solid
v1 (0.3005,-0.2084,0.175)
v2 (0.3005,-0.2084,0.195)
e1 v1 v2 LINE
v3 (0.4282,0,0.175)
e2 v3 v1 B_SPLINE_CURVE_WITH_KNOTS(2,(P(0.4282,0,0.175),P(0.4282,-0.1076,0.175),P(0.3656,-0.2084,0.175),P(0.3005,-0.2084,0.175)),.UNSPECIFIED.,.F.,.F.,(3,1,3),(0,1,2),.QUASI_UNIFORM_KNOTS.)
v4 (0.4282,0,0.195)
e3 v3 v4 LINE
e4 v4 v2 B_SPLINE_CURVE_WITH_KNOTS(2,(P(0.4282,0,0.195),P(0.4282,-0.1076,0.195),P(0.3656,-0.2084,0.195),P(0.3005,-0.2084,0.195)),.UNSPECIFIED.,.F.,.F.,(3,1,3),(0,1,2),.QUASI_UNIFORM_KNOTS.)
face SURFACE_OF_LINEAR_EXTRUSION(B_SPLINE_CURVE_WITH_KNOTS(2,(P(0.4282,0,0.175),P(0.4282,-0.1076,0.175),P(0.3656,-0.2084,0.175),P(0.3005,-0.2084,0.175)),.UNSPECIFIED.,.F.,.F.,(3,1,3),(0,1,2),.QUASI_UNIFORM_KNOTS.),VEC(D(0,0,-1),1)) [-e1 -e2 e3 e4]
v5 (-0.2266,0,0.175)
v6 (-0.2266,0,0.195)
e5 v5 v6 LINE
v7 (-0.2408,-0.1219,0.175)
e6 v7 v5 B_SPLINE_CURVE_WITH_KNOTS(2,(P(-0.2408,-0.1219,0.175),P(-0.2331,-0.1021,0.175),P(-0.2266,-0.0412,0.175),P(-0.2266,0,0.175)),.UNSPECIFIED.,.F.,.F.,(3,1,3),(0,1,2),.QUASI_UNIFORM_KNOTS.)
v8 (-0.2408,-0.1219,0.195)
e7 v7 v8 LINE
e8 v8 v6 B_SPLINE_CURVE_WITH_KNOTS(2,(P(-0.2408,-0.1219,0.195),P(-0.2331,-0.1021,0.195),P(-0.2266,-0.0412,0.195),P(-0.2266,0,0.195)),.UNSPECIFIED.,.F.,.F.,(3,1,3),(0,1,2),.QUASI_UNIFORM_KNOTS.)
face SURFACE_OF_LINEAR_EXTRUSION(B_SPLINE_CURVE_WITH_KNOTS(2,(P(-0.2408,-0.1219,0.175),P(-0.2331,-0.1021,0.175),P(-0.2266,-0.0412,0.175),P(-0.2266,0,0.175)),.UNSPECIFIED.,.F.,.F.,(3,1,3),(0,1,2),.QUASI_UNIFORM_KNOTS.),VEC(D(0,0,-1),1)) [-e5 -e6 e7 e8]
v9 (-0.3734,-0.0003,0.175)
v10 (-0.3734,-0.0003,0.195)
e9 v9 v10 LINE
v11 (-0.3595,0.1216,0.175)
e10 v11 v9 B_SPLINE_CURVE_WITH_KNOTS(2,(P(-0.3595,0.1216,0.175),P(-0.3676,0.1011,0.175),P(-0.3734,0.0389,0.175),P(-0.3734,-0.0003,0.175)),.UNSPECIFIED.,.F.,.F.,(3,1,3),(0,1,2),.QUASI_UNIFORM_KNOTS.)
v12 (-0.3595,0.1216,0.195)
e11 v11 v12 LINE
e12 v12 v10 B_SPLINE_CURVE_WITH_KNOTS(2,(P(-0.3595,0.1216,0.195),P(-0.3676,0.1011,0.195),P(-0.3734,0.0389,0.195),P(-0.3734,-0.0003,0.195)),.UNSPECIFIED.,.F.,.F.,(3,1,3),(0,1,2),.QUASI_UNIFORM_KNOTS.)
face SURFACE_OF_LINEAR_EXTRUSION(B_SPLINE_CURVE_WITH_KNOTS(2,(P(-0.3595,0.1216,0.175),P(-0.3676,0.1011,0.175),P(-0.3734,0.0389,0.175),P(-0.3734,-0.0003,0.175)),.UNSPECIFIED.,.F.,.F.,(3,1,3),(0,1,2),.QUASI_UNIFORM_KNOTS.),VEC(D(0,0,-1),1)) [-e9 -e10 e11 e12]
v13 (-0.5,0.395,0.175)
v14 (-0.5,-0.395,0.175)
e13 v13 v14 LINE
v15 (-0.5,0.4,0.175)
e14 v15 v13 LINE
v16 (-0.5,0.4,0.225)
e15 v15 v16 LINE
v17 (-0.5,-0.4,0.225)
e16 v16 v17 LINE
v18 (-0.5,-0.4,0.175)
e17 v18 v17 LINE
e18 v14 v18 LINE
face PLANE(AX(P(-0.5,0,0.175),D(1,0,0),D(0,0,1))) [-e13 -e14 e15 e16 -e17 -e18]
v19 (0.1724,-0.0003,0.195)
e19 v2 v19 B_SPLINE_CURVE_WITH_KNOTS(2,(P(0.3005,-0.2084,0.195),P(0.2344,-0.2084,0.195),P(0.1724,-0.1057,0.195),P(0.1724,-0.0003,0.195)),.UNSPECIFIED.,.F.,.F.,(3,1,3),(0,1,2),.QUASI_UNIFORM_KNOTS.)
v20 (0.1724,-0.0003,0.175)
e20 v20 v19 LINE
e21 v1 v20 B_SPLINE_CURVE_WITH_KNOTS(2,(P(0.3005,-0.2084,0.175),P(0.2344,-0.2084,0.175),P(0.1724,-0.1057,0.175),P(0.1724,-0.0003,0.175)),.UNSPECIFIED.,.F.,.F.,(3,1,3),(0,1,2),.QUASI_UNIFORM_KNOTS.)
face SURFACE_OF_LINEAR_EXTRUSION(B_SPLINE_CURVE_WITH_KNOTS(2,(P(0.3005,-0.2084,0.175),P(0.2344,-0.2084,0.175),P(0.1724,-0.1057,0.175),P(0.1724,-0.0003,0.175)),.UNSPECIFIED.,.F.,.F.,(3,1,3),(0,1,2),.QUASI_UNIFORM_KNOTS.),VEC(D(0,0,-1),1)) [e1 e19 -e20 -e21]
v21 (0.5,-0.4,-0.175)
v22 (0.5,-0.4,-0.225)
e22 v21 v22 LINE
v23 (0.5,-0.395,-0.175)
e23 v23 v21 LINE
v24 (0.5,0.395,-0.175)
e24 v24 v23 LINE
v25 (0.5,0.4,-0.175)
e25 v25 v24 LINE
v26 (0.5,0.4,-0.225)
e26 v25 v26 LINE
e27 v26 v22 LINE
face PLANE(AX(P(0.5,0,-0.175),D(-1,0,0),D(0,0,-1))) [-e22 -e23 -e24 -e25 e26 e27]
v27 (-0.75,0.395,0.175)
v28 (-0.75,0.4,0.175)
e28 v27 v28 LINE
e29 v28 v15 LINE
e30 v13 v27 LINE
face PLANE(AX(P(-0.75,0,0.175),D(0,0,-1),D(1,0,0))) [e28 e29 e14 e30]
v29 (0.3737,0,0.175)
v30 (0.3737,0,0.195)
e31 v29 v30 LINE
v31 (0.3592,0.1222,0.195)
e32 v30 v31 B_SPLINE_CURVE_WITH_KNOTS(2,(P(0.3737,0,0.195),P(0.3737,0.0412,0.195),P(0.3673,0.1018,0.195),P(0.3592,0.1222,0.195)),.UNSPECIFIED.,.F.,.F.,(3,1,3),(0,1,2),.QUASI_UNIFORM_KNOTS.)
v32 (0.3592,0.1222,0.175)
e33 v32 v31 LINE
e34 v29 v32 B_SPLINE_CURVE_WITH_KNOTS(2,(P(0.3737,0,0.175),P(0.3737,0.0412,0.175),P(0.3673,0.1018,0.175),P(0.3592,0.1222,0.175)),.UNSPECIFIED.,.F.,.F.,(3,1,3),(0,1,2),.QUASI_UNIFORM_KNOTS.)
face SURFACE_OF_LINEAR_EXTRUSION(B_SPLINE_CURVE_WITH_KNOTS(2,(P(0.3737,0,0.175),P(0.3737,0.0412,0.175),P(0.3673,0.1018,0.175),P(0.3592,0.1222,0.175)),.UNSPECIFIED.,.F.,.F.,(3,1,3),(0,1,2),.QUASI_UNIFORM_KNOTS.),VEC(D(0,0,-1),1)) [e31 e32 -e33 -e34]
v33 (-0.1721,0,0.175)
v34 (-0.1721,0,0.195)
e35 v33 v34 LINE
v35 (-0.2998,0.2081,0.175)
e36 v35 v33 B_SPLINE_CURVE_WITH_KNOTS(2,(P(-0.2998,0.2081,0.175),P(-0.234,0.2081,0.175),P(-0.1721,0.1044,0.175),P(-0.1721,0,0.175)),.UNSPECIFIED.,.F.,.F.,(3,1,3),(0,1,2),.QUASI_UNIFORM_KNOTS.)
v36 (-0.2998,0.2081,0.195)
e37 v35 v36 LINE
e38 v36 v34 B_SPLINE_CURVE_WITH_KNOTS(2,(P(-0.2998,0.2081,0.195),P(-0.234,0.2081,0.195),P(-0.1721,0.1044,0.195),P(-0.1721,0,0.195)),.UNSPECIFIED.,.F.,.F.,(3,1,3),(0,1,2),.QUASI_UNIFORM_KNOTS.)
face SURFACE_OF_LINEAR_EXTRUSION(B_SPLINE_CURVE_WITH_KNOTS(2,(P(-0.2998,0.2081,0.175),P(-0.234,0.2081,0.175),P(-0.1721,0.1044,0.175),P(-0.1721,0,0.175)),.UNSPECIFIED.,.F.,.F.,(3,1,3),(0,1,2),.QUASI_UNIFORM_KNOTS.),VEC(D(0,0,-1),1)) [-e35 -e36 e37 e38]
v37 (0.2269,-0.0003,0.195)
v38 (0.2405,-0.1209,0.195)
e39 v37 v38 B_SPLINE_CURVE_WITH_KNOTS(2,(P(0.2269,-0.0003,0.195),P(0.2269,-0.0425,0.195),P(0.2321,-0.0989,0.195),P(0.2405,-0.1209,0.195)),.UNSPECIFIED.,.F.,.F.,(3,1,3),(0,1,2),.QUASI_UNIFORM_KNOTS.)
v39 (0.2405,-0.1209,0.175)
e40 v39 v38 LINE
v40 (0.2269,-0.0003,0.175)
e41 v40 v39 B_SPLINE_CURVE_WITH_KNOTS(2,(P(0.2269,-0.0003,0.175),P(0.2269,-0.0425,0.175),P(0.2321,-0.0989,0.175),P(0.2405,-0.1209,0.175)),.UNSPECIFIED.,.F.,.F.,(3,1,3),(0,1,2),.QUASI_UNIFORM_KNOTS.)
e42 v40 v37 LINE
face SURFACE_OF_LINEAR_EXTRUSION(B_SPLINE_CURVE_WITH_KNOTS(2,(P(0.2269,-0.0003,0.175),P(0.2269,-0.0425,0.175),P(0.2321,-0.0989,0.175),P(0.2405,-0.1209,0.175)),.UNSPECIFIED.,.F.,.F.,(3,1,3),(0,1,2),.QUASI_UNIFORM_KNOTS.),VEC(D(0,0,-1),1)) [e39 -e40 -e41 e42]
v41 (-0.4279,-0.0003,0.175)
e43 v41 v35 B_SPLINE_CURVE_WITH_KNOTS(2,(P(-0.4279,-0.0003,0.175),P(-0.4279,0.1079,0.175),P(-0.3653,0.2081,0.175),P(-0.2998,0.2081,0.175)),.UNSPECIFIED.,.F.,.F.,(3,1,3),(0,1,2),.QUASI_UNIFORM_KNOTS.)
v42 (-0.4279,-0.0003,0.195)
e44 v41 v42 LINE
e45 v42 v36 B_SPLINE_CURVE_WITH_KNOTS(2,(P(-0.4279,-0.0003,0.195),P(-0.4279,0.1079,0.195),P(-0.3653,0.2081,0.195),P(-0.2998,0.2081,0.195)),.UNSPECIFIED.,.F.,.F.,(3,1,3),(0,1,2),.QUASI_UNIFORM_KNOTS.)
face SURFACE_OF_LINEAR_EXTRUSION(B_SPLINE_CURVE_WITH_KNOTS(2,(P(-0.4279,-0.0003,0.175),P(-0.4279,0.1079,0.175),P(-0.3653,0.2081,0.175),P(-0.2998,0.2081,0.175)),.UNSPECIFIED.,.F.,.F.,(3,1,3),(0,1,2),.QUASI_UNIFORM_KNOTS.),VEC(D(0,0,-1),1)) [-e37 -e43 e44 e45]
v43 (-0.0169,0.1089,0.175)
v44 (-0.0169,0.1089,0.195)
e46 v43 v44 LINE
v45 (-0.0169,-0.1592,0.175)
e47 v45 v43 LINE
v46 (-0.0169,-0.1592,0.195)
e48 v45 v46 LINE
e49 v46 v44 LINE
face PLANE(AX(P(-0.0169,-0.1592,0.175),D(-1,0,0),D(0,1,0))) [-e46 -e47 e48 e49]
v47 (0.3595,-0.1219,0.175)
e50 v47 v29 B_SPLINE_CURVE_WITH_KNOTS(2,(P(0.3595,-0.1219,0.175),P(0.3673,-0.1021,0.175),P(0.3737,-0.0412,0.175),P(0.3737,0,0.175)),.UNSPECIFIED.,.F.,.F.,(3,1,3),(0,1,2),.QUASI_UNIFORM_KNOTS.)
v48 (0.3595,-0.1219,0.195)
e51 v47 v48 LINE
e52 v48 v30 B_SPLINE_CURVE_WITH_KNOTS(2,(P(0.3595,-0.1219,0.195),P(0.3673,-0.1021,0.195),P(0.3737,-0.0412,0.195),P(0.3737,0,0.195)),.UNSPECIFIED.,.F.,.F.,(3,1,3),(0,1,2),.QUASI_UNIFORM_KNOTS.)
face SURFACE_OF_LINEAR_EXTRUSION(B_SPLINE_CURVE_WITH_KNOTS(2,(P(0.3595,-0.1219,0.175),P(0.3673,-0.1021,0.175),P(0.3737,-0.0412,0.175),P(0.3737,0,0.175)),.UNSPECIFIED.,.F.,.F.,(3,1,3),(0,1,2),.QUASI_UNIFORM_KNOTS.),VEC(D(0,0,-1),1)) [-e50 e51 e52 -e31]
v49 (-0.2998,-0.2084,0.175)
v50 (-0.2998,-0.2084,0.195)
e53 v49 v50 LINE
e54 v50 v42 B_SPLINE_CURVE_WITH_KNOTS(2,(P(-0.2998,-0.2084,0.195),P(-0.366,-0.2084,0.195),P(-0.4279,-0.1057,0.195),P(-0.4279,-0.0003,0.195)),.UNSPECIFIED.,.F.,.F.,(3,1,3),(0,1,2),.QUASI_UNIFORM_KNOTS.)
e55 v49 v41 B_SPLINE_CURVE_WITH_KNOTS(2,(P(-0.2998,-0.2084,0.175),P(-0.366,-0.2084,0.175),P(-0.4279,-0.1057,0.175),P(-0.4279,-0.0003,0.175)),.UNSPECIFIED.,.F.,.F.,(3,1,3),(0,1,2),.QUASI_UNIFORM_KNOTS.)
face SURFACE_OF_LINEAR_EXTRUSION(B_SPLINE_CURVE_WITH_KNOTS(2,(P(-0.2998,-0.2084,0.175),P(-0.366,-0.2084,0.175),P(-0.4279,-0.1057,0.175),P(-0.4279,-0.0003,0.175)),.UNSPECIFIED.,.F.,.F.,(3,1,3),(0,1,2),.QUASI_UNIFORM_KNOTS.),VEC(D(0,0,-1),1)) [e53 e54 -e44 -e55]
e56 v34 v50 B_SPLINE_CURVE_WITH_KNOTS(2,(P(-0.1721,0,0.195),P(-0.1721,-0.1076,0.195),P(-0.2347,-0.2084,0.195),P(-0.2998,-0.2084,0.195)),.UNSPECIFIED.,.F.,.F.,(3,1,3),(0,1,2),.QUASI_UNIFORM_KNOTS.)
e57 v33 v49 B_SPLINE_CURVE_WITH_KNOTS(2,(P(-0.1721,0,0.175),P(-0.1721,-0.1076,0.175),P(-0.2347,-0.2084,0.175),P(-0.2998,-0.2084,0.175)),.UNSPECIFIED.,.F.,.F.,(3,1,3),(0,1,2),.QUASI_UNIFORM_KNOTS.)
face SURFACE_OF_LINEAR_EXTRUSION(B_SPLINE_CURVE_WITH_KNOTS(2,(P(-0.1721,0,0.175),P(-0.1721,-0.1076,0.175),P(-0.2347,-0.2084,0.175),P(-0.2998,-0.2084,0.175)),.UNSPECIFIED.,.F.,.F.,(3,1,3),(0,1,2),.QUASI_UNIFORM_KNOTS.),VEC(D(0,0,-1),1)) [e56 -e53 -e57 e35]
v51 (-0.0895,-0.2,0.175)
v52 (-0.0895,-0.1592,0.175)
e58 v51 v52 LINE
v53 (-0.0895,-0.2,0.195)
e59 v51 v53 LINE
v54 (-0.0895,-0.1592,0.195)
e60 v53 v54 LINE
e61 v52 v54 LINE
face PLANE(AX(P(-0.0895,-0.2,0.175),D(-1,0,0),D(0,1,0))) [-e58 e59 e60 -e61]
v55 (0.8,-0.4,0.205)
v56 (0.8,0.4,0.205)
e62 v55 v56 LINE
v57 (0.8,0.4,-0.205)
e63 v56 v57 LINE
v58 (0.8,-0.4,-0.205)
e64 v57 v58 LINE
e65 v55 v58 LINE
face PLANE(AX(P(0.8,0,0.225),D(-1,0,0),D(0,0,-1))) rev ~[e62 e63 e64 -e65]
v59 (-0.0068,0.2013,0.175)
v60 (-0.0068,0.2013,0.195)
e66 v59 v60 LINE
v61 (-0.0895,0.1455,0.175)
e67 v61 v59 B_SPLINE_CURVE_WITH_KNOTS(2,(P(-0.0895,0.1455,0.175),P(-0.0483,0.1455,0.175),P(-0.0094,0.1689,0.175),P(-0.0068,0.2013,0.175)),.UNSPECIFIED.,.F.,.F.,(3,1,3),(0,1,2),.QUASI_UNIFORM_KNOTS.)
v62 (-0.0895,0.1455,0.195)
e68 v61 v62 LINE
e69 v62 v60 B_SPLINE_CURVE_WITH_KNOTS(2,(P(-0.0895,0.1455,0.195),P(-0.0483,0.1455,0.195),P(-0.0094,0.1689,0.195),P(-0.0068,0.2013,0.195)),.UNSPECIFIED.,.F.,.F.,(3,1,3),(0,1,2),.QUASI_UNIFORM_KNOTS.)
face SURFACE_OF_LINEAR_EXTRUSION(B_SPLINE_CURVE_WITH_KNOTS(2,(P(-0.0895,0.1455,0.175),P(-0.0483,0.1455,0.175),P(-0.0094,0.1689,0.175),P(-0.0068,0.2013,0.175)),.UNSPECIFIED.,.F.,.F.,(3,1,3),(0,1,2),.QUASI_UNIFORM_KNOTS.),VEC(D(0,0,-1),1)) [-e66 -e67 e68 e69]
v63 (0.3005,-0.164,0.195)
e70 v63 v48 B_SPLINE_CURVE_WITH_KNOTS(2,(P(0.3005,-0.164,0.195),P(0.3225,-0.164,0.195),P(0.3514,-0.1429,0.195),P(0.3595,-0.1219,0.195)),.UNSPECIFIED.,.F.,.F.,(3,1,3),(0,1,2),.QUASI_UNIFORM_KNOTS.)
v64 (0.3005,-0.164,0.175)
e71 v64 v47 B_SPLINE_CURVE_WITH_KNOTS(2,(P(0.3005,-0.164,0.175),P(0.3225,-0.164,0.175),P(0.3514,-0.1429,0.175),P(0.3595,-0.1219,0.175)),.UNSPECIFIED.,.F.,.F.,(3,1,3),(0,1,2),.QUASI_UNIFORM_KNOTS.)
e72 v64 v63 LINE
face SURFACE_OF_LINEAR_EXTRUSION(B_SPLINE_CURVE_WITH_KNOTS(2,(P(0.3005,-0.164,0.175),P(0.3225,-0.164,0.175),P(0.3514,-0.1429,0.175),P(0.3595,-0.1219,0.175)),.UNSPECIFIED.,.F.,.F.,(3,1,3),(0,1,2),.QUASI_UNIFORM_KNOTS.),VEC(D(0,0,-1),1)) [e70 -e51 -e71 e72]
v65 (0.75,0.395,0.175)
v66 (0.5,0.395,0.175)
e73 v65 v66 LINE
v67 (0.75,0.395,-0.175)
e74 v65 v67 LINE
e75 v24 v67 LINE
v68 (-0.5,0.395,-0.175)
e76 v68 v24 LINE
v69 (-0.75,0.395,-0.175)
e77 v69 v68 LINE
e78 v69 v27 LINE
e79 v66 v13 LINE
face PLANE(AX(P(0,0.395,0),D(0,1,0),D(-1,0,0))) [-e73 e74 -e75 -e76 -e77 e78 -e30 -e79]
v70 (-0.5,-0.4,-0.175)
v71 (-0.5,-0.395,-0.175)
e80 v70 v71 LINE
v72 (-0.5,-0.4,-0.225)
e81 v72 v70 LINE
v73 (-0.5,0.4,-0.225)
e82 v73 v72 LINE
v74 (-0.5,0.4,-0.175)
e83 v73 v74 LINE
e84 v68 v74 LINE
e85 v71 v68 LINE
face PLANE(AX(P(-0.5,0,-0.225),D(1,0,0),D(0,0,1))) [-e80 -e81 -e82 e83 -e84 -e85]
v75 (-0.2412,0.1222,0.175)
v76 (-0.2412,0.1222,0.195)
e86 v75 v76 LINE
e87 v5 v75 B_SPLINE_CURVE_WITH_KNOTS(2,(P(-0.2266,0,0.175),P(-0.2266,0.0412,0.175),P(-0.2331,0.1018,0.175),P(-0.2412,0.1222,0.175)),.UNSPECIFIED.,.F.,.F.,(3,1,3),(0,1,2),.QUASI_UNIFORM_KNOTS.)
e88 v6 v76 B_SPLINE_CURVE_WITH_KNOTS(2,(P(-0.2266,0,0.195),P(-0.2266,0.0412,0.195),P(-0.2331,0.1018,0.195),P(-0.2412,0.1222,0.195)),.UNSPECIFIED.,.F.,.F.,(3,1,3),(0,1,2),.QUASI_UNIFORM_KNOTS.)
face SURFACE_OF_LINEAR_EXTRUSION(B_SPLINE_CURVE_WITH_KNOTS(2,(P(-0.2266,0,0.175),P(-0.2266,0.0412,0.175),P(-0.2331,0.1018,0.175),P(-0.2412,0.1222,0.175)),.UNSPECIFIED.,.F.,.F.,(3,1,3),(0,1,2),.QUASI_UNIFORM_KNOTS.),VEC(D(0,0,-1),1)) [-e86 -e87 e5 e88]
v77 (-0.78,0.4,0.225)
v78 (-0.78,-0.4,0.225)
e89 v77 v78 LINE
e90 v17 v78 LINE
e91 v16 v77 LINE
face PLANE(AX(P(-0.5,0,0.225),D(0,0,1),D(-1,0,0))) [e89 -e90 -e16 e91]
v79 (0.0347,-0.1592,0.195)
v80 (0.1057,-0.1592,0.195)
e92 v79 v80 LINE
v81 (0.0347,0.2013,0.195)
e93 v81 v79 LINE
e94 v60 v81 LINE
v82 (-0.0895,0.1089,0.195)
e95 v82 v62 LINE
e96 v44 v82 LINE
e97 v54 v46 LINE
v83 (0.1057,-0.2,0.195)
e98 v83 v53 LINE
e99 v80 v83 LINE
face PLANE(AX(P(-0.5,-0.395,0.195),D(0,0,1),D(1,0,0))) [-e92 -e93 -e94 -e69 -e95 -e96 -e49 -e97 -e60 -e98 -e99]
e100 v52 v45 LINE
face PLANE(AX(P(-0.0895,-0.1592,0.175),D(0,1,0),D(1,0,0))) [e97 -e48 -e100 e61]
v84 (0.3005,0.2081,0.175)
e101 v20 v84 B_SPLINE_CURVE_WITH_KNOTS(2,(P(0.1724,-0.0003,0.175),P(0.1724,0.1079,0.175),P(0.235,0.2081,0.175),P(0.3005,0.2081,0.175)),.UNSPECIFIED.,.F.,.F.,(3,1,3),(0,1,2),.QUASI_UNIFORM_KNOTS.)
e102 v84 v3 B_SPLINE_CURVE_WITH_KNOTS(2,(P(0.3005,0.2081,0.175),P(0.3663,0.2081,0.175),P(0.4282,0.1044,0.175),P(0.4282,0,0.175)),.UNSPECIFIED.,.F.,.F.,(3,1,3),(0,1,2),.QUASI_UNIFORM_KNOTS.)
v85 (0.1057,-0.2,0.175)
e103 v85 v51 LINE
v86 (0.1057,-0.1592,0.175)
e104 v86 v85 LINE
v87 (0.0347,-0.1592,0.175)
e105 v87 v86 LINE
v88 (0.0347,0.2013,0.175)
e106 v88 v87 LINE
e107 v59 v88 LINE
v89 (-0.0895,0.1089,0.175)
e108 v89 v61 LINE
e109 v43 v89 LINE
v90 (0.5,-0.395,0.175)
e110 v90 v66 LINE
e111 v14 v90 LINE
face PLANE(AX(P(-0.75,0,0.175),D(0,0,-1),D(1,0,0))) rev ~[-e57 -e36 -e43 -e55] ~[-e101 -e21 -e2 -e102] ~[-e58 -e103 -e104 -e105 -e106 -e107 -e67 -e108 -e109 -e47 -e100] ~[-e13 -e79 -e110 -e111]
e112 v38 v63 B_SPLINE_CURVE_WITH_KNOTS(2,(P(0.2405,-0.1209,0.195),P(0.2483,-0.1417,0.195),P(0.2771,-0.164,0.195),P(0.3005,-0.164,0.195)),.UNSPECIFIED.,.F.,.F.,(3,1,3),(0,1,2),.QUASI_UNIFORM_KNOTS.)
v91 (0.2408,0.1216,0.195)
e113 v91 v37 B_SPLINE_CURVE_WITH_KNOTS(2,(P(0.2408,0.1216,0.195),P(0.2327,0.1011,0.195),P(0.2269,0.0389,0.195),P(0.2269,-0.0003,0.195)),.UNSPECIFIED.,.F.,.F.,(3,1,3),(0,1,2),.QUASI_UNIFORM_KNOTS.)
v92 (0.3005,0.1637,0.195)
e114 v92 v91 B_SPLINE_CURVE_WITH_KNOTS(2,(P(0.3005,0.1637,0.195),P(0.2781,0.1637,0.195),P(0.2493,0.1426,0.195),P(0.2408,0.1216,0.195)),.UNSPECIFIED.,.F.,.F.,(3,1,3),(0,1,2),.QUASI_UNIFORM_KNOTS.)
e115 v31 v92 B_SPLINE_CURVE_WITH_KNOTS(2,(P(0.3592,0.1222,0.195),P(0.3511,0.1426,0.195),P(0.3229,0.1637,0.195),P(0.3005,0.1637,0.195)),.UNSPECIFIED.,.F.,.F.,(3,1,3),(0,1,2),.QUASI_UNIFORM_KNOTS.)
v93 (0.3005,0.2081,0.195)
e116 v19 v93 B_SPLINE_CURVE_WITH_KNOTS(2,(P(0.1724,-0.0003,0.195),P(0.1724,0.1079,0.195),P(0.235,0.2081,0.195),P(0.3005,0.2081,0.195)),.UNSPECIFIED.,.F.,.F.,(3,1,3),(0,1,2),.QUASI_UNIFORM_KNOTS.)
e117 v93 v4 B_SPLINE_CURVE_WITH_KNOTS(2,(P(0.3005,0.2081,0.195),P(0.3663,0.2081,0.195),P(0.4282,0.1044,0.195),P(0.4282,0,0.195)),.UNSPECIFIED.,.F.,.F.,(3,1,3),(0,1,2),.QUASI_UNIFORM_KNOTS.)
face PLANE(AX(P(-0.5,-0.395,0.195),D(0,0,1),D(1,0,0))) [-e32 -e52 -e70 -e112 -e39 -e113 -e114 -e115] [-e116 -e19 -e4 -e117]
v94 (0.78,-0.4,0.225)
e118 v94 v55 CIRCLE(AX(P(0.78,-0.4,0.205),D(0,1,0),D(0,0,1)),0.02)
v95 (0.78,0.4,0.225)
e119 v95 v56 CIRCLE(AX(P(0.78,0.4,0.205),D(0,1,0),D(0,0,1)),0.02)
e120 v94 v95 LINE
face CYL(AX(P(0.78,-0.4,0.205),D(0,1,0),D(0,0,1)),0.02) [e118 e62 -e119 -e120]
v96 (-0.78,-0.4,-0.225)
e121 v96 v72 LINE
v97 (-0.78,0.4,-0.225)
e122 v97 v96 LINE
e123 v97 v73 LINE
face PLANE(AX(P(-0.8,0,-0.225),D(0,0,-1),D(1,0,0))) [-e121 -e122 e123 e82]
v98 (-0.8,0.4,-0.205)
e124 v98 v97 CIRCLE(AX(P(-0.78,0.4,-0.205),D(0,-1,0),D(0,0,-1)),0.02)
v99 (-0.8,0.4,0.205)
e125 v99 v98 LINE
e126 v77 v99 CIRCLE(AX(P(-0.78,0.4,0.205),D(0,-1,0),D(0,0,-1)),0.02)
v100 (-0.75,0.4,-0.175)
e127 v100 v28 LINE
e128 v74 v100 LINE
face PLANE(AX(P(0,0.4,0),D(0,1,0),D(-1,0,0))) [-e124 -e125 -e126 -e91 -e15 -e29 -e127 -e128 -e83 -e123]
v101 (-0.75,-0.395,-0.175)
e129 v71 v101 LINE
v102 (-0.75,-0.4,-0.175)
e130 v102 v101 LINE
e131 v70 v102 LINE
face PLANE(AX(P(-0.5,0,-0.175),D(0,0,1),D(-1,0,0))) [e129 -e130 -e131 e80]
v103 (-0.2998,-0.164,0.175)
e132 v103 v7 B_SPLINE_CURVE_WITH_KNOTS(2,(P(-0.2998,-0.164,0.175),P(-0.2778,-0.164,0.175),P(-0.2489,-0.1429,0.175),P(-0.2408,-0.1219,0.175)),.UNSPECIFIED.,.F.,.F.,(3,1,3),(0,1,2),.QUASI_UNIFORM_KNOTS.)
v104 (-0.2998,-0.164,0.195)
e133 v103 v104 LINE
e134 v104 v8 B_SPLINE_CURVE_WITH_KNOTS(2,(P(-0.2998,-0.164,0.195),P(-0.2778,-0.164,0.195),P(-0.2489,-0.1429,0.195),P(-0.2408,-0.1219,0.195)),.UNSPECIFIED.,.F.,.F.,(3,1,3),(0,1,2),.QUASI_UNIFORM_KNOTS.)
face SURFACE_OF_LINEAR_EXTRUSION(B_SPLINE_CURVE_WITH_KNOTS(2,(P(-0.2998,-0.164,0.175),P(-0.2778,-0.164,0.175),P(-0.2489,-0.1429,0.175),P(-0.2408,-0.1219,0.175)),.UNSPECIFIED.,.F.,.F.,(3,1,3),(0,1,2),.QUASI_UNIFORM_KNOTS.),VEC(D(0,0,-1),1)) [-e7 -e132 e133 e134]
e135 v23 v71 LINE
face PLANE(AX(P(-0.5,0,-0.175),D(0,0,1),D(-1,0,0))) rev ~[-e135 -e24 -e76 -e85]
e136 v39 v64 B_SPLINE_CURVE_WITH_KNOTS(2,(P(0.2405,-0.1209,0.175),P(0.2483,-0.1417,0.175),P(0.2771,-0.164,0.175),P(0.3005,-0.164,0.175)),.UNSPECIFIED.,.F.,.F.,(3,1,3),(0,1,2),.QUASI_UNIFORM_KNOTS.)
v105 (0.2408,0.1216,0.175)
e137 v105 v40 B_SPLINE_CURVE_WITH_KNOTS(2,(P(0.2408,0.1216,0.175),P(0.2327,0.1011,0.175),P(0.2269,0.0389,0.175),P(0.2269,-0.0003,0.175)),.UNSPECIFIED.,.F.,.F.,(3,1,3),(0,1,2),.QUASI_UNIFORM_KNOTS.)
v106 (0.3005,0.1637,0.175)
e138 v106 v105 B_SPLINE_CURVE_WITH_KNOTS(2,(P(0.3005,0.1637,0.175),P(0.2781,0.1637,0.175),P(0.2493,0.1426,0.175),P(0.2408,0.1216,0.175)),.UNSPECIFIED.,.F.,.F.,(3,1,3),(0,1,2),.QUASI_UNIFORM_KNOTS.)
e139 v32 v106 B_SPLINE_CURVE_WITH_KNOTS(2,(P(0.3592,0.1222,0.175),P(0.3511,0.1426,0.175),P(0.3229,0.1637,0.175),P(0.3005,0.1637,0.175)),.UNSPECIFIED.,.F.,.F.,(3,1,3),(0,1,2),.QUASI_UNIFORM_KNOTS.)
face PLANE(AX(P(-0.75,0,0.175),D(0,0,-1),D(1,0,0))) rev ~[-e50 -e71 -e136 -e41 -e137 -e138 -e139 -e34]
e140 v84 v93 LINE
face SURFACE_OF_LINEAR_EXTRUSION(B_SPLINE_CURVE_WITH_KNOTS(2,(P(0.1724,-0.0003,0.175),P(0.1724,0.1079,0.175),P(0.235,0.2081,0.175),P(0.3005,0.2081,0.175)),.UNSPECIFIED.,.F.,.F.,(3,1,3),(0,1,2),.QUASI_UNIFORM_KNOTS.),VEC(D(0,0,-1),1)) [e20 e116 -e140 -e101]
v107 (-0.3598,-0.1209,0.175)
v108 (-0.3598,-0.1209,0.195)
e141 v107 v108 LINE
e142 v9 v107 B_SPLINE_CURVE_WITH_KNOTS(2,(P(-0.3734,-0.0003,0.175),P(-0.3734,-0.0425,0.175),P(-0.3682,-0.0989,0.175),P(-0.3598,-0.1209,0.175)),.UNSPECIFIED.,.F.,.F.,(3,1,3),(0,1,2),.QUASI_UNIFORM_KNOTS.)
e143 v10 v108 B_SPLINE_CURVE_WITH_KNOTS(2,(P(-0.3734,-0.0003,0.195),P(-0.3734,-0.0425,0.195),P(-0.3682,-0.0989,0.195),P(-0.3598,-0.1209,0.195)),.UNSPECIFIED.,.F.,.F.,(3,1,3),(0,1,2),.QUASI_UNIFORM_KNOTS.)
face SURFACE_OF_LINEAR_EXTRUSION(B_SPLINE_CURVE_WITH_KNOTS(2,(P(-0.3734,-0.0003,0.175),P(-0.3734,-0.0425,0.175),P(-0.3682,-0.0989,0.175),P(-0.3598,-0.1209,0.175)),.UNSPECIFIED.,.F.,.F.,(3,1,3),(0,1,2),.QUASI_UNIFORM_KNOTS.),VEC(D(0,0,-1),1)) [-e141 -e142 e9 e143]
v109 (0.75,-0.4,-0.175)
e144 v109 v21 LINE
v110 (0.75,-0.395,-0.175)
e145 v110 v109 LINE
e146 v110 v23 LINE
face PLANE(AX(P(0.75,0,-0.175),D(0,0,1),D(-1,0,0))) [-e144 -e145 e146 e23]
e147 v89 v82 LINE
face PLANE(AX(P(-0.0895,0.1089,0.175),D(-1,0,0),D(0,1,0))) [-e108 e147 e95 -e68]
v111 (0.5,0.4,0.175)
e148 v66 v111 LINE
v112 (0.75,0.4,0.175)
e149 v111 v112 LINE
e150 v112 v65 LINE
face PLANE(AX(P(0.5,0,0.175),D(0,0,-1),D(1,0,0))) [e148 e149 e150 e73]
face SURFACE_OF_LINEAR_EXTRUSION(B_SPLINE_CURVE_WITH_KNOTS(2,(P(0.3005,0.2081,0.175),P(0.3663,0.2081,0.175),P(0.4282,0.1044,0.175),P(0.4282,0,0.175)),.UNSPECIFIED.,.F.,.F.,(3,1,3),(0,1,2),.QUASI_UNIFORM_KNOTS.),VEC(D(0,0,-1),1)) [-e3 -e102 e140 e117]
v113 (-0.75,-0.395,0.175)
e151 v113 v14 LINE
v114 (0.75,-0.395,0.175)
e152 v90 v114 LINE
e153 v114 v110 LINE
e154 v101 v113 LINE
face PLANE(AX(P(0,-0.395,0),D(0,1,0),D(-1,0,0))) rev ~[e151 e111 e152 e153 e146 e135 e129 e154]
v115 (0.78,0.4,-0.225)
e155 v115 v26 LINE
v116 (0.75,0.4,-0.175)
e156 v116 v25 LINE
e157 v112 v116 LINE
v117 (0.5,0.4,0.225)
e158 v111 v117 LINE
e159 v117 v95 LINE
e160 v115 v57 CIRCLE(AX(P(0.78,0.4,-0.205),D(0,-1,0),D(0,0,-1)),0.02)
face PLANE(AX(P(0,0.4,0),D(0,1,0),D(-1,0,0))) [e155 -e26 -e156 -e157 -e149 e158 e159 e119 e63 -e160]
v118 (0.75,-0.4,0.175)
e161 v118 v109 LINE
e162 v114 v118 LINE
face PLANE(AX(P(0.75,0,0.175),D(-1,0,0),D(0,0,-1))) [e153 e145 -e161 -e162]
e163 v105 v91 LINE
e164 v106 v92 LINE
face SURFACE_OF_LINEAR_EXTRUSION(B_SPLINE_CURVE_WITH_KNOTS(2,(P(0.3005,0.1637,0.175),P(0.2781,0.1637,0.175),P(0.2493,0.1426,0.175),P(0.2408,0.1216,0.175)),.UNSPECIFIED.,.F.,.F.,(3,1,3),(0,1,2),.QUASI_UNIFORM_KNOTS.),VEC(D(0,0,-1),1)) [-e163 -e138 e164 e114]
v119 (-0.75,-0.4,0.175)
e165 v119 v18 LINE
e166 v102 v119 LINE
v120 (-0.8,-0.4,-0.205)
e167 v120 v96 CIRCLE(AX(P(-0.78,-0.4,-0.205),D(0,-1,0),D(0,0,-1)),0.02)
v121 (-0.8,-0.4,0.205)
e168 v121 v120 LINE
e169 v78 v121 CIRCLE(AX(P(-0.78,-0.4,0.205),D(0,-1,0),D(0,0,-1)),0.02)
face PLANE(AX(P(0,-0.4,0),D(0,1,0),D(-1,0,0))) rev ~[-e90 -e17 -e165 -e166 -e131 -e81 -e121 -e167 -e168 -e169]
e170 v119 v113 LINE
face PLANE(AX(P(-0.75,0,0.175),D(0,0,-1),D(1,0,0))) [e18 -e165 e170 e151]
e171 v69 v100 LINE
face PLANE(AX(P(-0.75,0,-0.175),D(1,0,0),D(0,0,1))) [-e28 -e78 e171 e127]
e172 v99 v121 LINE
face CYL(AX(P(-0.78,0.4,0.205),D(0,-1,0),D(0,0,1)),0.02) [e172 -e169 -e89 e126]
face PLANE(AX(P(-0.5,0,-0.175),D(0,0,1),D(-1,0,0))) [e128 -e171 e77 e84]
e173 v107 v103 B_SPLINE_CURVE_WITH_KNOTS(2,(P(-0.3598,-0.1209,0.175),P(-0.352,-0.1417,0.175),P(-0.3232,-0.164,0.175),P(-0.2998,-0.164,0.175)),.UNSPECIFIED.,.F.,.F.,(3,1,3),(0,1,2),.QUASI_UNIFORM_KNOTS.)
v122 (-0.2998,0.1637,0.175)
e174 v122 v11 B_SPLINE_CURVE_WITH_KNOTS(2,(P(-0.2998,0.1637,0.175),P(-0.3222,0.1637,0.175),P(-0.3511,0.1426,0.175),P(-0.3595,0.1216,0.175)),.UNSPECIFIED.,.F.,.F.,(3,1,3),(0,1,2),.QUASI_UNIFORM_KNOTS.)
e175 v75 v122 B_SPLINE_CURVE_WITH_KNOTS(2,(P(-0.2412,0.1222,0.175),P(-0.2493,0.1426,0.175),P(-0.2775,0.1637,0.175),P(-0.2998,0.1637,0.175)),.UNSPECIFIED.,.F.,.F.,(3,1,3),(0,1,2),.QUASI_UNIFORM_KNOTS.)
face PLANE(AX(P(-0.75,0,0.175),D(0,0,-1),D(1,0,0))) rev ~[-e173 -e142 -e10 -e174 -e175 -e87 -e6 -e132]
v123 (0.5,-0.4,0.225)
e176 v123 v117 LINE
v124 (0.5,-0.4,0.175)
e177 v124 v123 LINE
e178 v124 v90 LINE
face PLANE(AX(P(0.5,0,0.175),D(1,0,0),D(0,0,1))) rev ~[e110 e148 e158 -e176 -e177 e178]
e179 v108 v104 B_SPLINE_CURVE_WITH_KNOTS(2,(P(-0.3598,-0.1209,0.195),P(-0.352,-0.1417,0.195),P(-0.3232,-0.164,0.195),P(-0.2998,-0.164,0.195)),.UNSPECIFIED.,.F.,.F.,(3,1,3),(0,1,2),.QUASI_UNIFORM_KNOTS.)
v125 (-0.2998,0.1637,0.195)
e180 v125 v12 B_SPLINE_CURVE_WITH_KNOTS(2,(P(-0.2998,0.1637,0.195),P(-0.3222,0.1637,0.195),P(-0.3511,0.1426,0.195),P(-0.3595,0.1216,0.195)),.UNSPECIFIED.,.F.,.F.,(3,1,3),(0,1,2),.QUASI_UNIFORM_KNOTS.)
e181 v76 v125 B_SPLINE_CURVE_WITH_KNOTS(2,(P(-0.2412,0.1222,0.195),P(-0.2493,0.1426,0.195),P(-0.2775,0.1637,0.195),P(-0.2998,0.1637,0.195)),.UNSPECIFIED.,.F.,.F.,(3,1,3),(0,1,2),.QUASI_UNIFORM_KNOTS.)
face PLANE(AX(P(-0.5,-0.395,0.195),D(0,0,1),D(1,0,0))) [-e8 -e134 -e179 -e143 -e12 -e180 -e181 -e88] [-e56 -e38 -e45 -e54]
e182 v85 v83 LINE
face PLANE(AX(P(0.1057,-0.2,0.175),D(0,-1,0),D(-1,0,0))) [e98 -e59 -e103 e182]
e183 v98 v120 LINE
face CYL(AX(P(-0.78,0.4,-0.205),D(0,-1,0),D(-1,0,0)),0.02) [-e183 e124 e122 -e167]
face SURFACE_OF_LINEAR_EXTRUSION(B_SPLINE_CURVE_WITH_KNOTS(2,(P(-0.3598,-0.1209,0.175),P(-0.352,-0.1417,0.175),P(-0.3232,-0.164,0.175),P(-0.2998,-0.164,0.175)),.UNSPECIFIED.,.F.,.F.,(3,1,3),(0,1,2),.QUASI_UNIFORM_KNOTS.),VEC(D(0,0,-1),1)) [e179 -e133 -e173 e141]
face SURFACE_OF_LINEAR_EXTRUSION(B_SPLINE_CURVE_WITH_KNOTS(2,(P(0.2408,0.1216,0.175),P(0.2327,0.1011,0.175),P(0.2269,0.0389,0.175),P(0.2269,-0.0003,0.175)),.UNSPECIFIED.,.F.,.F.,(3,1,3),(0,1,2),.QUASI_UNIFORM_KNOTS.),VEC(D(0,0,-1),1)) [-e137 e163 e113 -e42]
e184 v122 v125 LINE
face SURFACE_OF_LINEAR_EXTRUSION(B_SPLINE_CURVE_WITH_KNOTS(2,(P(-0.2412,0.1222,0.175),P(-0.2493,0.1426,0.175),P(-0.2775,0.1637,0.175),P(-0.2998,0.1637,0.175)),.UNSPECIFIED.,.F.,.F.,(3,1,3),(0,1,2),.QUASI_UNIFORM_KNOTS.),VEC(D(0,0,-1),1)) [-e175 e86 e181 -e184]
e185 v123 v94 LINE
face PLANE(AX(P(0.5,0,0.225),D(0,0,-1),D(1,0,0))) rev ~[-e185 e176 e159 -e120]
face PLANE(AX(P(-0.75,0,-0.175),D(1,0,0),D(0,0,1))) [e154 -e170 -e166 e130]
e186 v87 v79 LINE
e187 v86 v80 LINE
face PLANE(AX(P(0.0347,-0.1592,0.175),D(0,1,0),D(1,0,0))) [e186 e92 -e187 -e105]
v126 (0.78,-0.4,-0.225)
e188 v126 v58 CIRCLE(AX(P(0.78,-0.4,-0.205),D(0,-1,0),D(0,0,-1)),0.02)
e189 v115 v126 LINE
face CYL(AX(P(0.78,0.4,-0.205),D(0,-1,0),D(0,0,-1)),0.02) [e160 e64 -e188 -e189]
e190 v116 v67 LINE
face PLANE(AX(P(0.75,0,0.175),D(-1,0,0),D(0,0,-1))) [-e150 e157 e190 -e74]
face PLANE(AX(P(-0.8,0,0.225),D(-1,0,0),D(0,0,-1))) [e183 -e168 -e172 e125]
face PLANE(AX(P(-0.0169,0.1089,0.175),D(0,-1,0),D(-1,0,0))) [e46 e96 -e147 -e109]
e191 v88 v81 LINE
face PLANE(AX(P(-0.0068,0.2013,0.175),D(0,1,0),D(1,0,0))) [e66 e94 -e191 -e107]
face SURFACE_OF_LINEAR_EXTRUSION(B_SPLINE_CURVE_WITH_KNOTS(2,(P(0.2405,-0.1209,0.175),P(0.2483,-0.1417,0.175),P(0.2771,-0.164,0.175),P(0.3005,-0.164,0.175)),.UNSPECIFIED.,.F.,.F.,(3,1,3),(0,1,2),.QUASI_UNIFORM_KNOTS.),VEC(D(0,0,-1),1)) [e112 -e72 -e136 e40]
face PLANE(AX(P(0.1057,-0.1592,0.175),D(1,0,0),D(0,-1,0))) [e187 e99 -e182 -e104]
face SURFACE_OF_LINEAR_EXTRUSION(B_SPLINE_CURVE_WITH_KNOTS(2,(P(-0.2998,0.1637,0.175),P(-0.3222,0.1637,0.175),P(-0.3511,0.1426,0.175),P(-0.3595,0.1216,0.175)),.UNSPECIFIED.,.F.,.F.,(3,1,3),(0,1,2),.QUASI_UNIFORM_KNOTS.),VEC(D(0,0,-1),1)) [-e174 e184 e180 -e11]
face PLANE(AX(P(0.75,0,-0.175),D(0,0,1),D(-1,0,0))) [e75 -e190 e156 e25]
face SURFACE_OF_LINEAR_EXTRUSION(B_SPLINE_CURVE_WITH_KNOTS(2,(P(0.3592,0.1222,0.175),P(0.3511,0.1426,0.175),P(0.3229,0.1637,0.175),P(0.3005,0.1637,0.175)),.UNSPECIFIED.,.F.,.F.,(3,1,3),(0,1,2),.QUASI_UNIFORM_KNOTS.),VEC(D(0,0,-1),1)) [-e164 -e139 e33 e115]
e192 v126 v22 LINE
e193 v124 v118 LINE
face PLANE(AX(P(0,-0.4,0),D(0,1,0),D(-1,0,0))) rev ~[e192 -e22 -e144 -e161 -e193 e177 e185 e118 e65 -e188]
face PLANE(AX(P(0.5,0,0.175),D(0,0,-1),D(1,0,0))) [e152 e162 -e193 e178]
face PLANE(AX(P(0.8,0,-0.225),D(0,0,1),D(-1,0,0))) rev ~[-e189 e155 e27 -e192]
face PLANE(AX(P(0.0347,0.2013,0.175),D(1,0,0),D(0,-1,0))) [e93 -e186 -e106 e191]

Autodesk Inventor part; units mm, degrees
ref_plane "YZ Plane" through (0, 0, 0) normal (1, 0, 0) x (0, 1, 0)
ref_plane "XZ Plane" through (0, 0, 0) normal (0, 1, 0) x (-1, 0, 0)
ref_plane "XY Plane" through (0, 0, 0) normal (0, 0, 1) x (1, 0, 0)
sketch "Sketch1" plane through (0, 0, 0) normal (0, 1, 0) x (-1, 0, 0)
  line L0 (0.75, 0.175) -> (-0.75, 0.175)
  line L1 (-0.75, 0.175) -> (-0.75, -0.175)
  line L2 (-0.75, -0.175) -> (0.75, -0.175)
  line L3 (0.75, -0.175) -> (0.75, 0.175)
  line L4 (0.5, 0.175) -> (0.5, 0.225)
  line L5 (0.5, 0.225) -> (0.8, 0.225)
  line L6 (0.8, 0.225) -> (0.8, -0.225)
  line L7 (0.8, -0.225) -> (0.5, -0.225)
  line L8 (0.5, -0.225) -> (0.5, -0.175)
  line L9 (-0.5, 0.175) -> (-0.5, 0.225)
  line L10 (-0.5, 0.225) -> (-0.8, 0.225)
  line L11 (-0.8, 0.225) -> (-0.8, -0.225)
  line L12 (-0.8, -0.225) -> (-0.5, -0.225)
  line L13 (-0.5, -0.175) -> (-0.5, -0.225)
  line L14 (0.5, 0.175) -> (-0.5, 0.175)
  point P0 (0, 0)
  point P1 (0, 0.175)
  point P2 (0.75, 0)
  dimension "d0" = 1.6
  dimension "d1" = 0.05
  dimension "d2" = 0.05
  dimension "d3" = 0.45
  dimension "d4" = 0.3
extrude "Extrusion1" add sketch "Sketch1" along normal mid plane 0.8 contours L0 L4 L5 L6 L7 L8 L2 L3 | L0 L1 L2 L13 L12 L11 L10 L9
extrude "Extrusion2" add sketch "Sketch1" along normal mid plane 0.79 contours L3 L2 L1 L0
sketch "Sketch2" plane through (-0.5, -0.395, 0.175) normal (0, 0, 1) x (1, 0, 0)
  line L0 (0, 0) -> (0, 0.79) projected
  line L1 (1, 0) -> (0, 0) projected
  line L2 (1, 0) -> (1, 0.79) projected
  line L3 (0, 0.79) -> (1, 0.79) projected
  line L4 (0, 0.395) -> (1, 0.395) construction
  spline S0 degree 2 poles (0.3279, 0.395) (0.3279, 0.2874) (0.2653, 0.1866) (0.2002, 0.1866) knots 0 0 0 1 2 2 2
  spline S1 degree 2 poles (0.2002, 0.1866) (0.134, 0.1866) (0.0721, 0.2893) (0.0721, 0.3947) knots 0 0 0 1 2 2 2
  spline S2 degree 2 poles (0.0721, 0.3947) (0.0721, 0.5029) (0.1347, 0.6031) (0.2002, 0.6031) knots 0 0 0 1 2 2 2
  spline S3 degree 2 poles (0.2002, 0.6031) (0.266, 0.6031) (0.3279, 0.4994) (0.3279, 0.395) knots 0 0 0 1 2 2 2
  spline S4 degree 2 poles (0.2592, 0.2731) (0.2669, 0.2929) (0.2734, 0.3538) (0.2734, 0.395) knots 0 0 0 1 2 2 2
  spline S5 degree 2 poles (0.2734, 0.395) (0.2734, 0.4362) (0.2669, 0.4968) (0.2588, 0.5172) knots 0 0 0 1 2 2 2
  spline S6 degree 2 poles (0.2588, 0.5172) (0.2507, 0.5376) (0.2225, 0.5587) (0.2002, 0.5587) knots 0 0 0 1 2 2 2
  spline S7 degree 2 poles (0.2002, 0.5587) (0.1778, 0.5587) (0.1489, 0.5376) (0.1405, 0.5166) knots 0 0 0 1 2 2 2
  spline S8 degree 2 poles (0.1405, 0.5166) (0.1324, 0.4961) (0.1266, 0.4339) (0.1266, 0.3947) knots 0 0 0 1 2 2 2
  spline S9 degree 2 poles (0.1266, 0.3947) (0.1266, 0.3525) (0.1318, 0.2961) (0.1402, 0.2741) knots 0 0 0 1 2 2 2
  spline S10 degree 2 poles (0.1402, 0.2741) (0.148, 0.2533) (0.1768, 0.231) (0.2002, 0.231) knots 0 0 0 1 2 2 2
  spline S11 degree 2 poles (0.2002, 0.231) (0.2222, 0.231) (0.2511, 0.2521) (0.2592, 0.2731) knots 0 0 0 1 2 2 2
  line L5 (0.6057, 0.195) -> (0.4105, 0.195)
  line L6 (0.4105, 0.195) -> (0.4105, 0.2358)
  line L7 (0.4105, 0.2358) -> (0.4831, 0.2358)
  line L8 (0.4831, 0.2358) -> (0.4831, 0.5039)
  line L9 (0.4831, 0.5039) -> (0.4105, 0.5039)
  line L10 (0.4105, 0.5039) -> (0.4105, 0.5405)
  spline S12 degree 2 poles (0.4105, 0.5405) (0.4517, 0.5405) (0.4906, 0.5639) (0.4932, 0.5963) knots 0 0 0 1 2 2 2
  line L11 (0.4932, 0.5963) -> (0.5347, 0.5963)
  line L12 (0.5347, 0.5963) -> (0.5347, 0.2358)
  line L13 (0.5347, 0.2358) -> (0.6057, 0.2358)
  line L14 (0.6057, 0.2358) -> (0.6057, 0.195)
  spline S13 degree 2 poles (0.9282, 0.395) (0.9282, 0.2874) (0.8656, 0.1866) (0.8005, 0.1866) knots 0 0 0 1 2 2 2
  spline S14 degree 2 poles (0.8005, 0.1866) (0.7344, 0.1866) (0.6724, 0.2893) (0.6724, 0.3947) knots 0 0 0 1 2 2 2
  spline S15 degree 2 poles (0.6724, 0.3947) (0.6724, 0.5029) (0.735, 0.6031) (0.8005, 0.6031) knots 0 0 0 1 2 2 2
  spline S16 degree 2 poles (0.8005, 0.6031) (0.8663, 0.6031) (0.9282, 0.4994) (0.9282, 0.395) knots 0 0 0 1 2 2 2
  spline S17 degree 2 poles (0.8595, 0.2731) (0.8673, 0.2929) (0.8737, 0.3538) (0.8737, 0.395) knots 0 0 0 1 2 2 2
  spline S18 degree 2 poles (0.8737, 0.395) (0.8737, 0.4362) (0.8673, 0.4968) (0.8592, 0.5172) knots 0 0 0 1 2 2 2
  spline S19 degree 2 poles (0.8592, 0.5172) (0.8511, 0.5376) (0.8229, 0.5587) (0.8005, 0.5587) knots 0 0 0 1 2 2 2
  spline S20 degree 2 poles (0.8005, 0.5587) (0.7781, 0.5587) (0.7493, 0.5376) (0.7408, 0.5166) knots 0 0 0 1 2 2 2
  spline S21 degree 2 poles (0.7408, 0.5166) (0.7327, 0.4961) (0.7269, 0.4339) (0.7269, 0.3947) knots 0 0 0 1 2 2 2
  spline S22 degree 2 poles (0.7269, 0.3947) (0.7269, 0.3525) (0.7321, 0.2961) (0.7405, 0.2741) knots 0 0 0 1 2 2 2
  spline S23 degree 2 poles (0.7405, 0.2741) (0.7483, 0.2533) (0.7771, 0.231) (0.8005, 0.231) knots 0 0 0 1 2 2 2
  spline S24 degree 2 poles (0.8005, 0.231) (0.8225, 0.231) (0.8514, 0.2521) (0.8595, 0.2731) knots 0 0 0 1 2 2 2
  point P0 (0.5, 0.395)
extrude "Extrusion3" add sketch "Sketch2" along normal blind 0.02 contours S0 S1 S2 S3 | L5 L6 L7 L8 L9 L10 S12 L11 L12 L13 L14 | S13 S14 S15 S16
fillet "Fillet1" radius 0.02 4 edges at (-0.8, 0, 0.225) (-0.8, 0, -0.225) (0.8, 0, 0.225) (0.8, 0, -0.225)
equation "\"d2\" = d1"
properties part number "21-1001" material "Copper"
